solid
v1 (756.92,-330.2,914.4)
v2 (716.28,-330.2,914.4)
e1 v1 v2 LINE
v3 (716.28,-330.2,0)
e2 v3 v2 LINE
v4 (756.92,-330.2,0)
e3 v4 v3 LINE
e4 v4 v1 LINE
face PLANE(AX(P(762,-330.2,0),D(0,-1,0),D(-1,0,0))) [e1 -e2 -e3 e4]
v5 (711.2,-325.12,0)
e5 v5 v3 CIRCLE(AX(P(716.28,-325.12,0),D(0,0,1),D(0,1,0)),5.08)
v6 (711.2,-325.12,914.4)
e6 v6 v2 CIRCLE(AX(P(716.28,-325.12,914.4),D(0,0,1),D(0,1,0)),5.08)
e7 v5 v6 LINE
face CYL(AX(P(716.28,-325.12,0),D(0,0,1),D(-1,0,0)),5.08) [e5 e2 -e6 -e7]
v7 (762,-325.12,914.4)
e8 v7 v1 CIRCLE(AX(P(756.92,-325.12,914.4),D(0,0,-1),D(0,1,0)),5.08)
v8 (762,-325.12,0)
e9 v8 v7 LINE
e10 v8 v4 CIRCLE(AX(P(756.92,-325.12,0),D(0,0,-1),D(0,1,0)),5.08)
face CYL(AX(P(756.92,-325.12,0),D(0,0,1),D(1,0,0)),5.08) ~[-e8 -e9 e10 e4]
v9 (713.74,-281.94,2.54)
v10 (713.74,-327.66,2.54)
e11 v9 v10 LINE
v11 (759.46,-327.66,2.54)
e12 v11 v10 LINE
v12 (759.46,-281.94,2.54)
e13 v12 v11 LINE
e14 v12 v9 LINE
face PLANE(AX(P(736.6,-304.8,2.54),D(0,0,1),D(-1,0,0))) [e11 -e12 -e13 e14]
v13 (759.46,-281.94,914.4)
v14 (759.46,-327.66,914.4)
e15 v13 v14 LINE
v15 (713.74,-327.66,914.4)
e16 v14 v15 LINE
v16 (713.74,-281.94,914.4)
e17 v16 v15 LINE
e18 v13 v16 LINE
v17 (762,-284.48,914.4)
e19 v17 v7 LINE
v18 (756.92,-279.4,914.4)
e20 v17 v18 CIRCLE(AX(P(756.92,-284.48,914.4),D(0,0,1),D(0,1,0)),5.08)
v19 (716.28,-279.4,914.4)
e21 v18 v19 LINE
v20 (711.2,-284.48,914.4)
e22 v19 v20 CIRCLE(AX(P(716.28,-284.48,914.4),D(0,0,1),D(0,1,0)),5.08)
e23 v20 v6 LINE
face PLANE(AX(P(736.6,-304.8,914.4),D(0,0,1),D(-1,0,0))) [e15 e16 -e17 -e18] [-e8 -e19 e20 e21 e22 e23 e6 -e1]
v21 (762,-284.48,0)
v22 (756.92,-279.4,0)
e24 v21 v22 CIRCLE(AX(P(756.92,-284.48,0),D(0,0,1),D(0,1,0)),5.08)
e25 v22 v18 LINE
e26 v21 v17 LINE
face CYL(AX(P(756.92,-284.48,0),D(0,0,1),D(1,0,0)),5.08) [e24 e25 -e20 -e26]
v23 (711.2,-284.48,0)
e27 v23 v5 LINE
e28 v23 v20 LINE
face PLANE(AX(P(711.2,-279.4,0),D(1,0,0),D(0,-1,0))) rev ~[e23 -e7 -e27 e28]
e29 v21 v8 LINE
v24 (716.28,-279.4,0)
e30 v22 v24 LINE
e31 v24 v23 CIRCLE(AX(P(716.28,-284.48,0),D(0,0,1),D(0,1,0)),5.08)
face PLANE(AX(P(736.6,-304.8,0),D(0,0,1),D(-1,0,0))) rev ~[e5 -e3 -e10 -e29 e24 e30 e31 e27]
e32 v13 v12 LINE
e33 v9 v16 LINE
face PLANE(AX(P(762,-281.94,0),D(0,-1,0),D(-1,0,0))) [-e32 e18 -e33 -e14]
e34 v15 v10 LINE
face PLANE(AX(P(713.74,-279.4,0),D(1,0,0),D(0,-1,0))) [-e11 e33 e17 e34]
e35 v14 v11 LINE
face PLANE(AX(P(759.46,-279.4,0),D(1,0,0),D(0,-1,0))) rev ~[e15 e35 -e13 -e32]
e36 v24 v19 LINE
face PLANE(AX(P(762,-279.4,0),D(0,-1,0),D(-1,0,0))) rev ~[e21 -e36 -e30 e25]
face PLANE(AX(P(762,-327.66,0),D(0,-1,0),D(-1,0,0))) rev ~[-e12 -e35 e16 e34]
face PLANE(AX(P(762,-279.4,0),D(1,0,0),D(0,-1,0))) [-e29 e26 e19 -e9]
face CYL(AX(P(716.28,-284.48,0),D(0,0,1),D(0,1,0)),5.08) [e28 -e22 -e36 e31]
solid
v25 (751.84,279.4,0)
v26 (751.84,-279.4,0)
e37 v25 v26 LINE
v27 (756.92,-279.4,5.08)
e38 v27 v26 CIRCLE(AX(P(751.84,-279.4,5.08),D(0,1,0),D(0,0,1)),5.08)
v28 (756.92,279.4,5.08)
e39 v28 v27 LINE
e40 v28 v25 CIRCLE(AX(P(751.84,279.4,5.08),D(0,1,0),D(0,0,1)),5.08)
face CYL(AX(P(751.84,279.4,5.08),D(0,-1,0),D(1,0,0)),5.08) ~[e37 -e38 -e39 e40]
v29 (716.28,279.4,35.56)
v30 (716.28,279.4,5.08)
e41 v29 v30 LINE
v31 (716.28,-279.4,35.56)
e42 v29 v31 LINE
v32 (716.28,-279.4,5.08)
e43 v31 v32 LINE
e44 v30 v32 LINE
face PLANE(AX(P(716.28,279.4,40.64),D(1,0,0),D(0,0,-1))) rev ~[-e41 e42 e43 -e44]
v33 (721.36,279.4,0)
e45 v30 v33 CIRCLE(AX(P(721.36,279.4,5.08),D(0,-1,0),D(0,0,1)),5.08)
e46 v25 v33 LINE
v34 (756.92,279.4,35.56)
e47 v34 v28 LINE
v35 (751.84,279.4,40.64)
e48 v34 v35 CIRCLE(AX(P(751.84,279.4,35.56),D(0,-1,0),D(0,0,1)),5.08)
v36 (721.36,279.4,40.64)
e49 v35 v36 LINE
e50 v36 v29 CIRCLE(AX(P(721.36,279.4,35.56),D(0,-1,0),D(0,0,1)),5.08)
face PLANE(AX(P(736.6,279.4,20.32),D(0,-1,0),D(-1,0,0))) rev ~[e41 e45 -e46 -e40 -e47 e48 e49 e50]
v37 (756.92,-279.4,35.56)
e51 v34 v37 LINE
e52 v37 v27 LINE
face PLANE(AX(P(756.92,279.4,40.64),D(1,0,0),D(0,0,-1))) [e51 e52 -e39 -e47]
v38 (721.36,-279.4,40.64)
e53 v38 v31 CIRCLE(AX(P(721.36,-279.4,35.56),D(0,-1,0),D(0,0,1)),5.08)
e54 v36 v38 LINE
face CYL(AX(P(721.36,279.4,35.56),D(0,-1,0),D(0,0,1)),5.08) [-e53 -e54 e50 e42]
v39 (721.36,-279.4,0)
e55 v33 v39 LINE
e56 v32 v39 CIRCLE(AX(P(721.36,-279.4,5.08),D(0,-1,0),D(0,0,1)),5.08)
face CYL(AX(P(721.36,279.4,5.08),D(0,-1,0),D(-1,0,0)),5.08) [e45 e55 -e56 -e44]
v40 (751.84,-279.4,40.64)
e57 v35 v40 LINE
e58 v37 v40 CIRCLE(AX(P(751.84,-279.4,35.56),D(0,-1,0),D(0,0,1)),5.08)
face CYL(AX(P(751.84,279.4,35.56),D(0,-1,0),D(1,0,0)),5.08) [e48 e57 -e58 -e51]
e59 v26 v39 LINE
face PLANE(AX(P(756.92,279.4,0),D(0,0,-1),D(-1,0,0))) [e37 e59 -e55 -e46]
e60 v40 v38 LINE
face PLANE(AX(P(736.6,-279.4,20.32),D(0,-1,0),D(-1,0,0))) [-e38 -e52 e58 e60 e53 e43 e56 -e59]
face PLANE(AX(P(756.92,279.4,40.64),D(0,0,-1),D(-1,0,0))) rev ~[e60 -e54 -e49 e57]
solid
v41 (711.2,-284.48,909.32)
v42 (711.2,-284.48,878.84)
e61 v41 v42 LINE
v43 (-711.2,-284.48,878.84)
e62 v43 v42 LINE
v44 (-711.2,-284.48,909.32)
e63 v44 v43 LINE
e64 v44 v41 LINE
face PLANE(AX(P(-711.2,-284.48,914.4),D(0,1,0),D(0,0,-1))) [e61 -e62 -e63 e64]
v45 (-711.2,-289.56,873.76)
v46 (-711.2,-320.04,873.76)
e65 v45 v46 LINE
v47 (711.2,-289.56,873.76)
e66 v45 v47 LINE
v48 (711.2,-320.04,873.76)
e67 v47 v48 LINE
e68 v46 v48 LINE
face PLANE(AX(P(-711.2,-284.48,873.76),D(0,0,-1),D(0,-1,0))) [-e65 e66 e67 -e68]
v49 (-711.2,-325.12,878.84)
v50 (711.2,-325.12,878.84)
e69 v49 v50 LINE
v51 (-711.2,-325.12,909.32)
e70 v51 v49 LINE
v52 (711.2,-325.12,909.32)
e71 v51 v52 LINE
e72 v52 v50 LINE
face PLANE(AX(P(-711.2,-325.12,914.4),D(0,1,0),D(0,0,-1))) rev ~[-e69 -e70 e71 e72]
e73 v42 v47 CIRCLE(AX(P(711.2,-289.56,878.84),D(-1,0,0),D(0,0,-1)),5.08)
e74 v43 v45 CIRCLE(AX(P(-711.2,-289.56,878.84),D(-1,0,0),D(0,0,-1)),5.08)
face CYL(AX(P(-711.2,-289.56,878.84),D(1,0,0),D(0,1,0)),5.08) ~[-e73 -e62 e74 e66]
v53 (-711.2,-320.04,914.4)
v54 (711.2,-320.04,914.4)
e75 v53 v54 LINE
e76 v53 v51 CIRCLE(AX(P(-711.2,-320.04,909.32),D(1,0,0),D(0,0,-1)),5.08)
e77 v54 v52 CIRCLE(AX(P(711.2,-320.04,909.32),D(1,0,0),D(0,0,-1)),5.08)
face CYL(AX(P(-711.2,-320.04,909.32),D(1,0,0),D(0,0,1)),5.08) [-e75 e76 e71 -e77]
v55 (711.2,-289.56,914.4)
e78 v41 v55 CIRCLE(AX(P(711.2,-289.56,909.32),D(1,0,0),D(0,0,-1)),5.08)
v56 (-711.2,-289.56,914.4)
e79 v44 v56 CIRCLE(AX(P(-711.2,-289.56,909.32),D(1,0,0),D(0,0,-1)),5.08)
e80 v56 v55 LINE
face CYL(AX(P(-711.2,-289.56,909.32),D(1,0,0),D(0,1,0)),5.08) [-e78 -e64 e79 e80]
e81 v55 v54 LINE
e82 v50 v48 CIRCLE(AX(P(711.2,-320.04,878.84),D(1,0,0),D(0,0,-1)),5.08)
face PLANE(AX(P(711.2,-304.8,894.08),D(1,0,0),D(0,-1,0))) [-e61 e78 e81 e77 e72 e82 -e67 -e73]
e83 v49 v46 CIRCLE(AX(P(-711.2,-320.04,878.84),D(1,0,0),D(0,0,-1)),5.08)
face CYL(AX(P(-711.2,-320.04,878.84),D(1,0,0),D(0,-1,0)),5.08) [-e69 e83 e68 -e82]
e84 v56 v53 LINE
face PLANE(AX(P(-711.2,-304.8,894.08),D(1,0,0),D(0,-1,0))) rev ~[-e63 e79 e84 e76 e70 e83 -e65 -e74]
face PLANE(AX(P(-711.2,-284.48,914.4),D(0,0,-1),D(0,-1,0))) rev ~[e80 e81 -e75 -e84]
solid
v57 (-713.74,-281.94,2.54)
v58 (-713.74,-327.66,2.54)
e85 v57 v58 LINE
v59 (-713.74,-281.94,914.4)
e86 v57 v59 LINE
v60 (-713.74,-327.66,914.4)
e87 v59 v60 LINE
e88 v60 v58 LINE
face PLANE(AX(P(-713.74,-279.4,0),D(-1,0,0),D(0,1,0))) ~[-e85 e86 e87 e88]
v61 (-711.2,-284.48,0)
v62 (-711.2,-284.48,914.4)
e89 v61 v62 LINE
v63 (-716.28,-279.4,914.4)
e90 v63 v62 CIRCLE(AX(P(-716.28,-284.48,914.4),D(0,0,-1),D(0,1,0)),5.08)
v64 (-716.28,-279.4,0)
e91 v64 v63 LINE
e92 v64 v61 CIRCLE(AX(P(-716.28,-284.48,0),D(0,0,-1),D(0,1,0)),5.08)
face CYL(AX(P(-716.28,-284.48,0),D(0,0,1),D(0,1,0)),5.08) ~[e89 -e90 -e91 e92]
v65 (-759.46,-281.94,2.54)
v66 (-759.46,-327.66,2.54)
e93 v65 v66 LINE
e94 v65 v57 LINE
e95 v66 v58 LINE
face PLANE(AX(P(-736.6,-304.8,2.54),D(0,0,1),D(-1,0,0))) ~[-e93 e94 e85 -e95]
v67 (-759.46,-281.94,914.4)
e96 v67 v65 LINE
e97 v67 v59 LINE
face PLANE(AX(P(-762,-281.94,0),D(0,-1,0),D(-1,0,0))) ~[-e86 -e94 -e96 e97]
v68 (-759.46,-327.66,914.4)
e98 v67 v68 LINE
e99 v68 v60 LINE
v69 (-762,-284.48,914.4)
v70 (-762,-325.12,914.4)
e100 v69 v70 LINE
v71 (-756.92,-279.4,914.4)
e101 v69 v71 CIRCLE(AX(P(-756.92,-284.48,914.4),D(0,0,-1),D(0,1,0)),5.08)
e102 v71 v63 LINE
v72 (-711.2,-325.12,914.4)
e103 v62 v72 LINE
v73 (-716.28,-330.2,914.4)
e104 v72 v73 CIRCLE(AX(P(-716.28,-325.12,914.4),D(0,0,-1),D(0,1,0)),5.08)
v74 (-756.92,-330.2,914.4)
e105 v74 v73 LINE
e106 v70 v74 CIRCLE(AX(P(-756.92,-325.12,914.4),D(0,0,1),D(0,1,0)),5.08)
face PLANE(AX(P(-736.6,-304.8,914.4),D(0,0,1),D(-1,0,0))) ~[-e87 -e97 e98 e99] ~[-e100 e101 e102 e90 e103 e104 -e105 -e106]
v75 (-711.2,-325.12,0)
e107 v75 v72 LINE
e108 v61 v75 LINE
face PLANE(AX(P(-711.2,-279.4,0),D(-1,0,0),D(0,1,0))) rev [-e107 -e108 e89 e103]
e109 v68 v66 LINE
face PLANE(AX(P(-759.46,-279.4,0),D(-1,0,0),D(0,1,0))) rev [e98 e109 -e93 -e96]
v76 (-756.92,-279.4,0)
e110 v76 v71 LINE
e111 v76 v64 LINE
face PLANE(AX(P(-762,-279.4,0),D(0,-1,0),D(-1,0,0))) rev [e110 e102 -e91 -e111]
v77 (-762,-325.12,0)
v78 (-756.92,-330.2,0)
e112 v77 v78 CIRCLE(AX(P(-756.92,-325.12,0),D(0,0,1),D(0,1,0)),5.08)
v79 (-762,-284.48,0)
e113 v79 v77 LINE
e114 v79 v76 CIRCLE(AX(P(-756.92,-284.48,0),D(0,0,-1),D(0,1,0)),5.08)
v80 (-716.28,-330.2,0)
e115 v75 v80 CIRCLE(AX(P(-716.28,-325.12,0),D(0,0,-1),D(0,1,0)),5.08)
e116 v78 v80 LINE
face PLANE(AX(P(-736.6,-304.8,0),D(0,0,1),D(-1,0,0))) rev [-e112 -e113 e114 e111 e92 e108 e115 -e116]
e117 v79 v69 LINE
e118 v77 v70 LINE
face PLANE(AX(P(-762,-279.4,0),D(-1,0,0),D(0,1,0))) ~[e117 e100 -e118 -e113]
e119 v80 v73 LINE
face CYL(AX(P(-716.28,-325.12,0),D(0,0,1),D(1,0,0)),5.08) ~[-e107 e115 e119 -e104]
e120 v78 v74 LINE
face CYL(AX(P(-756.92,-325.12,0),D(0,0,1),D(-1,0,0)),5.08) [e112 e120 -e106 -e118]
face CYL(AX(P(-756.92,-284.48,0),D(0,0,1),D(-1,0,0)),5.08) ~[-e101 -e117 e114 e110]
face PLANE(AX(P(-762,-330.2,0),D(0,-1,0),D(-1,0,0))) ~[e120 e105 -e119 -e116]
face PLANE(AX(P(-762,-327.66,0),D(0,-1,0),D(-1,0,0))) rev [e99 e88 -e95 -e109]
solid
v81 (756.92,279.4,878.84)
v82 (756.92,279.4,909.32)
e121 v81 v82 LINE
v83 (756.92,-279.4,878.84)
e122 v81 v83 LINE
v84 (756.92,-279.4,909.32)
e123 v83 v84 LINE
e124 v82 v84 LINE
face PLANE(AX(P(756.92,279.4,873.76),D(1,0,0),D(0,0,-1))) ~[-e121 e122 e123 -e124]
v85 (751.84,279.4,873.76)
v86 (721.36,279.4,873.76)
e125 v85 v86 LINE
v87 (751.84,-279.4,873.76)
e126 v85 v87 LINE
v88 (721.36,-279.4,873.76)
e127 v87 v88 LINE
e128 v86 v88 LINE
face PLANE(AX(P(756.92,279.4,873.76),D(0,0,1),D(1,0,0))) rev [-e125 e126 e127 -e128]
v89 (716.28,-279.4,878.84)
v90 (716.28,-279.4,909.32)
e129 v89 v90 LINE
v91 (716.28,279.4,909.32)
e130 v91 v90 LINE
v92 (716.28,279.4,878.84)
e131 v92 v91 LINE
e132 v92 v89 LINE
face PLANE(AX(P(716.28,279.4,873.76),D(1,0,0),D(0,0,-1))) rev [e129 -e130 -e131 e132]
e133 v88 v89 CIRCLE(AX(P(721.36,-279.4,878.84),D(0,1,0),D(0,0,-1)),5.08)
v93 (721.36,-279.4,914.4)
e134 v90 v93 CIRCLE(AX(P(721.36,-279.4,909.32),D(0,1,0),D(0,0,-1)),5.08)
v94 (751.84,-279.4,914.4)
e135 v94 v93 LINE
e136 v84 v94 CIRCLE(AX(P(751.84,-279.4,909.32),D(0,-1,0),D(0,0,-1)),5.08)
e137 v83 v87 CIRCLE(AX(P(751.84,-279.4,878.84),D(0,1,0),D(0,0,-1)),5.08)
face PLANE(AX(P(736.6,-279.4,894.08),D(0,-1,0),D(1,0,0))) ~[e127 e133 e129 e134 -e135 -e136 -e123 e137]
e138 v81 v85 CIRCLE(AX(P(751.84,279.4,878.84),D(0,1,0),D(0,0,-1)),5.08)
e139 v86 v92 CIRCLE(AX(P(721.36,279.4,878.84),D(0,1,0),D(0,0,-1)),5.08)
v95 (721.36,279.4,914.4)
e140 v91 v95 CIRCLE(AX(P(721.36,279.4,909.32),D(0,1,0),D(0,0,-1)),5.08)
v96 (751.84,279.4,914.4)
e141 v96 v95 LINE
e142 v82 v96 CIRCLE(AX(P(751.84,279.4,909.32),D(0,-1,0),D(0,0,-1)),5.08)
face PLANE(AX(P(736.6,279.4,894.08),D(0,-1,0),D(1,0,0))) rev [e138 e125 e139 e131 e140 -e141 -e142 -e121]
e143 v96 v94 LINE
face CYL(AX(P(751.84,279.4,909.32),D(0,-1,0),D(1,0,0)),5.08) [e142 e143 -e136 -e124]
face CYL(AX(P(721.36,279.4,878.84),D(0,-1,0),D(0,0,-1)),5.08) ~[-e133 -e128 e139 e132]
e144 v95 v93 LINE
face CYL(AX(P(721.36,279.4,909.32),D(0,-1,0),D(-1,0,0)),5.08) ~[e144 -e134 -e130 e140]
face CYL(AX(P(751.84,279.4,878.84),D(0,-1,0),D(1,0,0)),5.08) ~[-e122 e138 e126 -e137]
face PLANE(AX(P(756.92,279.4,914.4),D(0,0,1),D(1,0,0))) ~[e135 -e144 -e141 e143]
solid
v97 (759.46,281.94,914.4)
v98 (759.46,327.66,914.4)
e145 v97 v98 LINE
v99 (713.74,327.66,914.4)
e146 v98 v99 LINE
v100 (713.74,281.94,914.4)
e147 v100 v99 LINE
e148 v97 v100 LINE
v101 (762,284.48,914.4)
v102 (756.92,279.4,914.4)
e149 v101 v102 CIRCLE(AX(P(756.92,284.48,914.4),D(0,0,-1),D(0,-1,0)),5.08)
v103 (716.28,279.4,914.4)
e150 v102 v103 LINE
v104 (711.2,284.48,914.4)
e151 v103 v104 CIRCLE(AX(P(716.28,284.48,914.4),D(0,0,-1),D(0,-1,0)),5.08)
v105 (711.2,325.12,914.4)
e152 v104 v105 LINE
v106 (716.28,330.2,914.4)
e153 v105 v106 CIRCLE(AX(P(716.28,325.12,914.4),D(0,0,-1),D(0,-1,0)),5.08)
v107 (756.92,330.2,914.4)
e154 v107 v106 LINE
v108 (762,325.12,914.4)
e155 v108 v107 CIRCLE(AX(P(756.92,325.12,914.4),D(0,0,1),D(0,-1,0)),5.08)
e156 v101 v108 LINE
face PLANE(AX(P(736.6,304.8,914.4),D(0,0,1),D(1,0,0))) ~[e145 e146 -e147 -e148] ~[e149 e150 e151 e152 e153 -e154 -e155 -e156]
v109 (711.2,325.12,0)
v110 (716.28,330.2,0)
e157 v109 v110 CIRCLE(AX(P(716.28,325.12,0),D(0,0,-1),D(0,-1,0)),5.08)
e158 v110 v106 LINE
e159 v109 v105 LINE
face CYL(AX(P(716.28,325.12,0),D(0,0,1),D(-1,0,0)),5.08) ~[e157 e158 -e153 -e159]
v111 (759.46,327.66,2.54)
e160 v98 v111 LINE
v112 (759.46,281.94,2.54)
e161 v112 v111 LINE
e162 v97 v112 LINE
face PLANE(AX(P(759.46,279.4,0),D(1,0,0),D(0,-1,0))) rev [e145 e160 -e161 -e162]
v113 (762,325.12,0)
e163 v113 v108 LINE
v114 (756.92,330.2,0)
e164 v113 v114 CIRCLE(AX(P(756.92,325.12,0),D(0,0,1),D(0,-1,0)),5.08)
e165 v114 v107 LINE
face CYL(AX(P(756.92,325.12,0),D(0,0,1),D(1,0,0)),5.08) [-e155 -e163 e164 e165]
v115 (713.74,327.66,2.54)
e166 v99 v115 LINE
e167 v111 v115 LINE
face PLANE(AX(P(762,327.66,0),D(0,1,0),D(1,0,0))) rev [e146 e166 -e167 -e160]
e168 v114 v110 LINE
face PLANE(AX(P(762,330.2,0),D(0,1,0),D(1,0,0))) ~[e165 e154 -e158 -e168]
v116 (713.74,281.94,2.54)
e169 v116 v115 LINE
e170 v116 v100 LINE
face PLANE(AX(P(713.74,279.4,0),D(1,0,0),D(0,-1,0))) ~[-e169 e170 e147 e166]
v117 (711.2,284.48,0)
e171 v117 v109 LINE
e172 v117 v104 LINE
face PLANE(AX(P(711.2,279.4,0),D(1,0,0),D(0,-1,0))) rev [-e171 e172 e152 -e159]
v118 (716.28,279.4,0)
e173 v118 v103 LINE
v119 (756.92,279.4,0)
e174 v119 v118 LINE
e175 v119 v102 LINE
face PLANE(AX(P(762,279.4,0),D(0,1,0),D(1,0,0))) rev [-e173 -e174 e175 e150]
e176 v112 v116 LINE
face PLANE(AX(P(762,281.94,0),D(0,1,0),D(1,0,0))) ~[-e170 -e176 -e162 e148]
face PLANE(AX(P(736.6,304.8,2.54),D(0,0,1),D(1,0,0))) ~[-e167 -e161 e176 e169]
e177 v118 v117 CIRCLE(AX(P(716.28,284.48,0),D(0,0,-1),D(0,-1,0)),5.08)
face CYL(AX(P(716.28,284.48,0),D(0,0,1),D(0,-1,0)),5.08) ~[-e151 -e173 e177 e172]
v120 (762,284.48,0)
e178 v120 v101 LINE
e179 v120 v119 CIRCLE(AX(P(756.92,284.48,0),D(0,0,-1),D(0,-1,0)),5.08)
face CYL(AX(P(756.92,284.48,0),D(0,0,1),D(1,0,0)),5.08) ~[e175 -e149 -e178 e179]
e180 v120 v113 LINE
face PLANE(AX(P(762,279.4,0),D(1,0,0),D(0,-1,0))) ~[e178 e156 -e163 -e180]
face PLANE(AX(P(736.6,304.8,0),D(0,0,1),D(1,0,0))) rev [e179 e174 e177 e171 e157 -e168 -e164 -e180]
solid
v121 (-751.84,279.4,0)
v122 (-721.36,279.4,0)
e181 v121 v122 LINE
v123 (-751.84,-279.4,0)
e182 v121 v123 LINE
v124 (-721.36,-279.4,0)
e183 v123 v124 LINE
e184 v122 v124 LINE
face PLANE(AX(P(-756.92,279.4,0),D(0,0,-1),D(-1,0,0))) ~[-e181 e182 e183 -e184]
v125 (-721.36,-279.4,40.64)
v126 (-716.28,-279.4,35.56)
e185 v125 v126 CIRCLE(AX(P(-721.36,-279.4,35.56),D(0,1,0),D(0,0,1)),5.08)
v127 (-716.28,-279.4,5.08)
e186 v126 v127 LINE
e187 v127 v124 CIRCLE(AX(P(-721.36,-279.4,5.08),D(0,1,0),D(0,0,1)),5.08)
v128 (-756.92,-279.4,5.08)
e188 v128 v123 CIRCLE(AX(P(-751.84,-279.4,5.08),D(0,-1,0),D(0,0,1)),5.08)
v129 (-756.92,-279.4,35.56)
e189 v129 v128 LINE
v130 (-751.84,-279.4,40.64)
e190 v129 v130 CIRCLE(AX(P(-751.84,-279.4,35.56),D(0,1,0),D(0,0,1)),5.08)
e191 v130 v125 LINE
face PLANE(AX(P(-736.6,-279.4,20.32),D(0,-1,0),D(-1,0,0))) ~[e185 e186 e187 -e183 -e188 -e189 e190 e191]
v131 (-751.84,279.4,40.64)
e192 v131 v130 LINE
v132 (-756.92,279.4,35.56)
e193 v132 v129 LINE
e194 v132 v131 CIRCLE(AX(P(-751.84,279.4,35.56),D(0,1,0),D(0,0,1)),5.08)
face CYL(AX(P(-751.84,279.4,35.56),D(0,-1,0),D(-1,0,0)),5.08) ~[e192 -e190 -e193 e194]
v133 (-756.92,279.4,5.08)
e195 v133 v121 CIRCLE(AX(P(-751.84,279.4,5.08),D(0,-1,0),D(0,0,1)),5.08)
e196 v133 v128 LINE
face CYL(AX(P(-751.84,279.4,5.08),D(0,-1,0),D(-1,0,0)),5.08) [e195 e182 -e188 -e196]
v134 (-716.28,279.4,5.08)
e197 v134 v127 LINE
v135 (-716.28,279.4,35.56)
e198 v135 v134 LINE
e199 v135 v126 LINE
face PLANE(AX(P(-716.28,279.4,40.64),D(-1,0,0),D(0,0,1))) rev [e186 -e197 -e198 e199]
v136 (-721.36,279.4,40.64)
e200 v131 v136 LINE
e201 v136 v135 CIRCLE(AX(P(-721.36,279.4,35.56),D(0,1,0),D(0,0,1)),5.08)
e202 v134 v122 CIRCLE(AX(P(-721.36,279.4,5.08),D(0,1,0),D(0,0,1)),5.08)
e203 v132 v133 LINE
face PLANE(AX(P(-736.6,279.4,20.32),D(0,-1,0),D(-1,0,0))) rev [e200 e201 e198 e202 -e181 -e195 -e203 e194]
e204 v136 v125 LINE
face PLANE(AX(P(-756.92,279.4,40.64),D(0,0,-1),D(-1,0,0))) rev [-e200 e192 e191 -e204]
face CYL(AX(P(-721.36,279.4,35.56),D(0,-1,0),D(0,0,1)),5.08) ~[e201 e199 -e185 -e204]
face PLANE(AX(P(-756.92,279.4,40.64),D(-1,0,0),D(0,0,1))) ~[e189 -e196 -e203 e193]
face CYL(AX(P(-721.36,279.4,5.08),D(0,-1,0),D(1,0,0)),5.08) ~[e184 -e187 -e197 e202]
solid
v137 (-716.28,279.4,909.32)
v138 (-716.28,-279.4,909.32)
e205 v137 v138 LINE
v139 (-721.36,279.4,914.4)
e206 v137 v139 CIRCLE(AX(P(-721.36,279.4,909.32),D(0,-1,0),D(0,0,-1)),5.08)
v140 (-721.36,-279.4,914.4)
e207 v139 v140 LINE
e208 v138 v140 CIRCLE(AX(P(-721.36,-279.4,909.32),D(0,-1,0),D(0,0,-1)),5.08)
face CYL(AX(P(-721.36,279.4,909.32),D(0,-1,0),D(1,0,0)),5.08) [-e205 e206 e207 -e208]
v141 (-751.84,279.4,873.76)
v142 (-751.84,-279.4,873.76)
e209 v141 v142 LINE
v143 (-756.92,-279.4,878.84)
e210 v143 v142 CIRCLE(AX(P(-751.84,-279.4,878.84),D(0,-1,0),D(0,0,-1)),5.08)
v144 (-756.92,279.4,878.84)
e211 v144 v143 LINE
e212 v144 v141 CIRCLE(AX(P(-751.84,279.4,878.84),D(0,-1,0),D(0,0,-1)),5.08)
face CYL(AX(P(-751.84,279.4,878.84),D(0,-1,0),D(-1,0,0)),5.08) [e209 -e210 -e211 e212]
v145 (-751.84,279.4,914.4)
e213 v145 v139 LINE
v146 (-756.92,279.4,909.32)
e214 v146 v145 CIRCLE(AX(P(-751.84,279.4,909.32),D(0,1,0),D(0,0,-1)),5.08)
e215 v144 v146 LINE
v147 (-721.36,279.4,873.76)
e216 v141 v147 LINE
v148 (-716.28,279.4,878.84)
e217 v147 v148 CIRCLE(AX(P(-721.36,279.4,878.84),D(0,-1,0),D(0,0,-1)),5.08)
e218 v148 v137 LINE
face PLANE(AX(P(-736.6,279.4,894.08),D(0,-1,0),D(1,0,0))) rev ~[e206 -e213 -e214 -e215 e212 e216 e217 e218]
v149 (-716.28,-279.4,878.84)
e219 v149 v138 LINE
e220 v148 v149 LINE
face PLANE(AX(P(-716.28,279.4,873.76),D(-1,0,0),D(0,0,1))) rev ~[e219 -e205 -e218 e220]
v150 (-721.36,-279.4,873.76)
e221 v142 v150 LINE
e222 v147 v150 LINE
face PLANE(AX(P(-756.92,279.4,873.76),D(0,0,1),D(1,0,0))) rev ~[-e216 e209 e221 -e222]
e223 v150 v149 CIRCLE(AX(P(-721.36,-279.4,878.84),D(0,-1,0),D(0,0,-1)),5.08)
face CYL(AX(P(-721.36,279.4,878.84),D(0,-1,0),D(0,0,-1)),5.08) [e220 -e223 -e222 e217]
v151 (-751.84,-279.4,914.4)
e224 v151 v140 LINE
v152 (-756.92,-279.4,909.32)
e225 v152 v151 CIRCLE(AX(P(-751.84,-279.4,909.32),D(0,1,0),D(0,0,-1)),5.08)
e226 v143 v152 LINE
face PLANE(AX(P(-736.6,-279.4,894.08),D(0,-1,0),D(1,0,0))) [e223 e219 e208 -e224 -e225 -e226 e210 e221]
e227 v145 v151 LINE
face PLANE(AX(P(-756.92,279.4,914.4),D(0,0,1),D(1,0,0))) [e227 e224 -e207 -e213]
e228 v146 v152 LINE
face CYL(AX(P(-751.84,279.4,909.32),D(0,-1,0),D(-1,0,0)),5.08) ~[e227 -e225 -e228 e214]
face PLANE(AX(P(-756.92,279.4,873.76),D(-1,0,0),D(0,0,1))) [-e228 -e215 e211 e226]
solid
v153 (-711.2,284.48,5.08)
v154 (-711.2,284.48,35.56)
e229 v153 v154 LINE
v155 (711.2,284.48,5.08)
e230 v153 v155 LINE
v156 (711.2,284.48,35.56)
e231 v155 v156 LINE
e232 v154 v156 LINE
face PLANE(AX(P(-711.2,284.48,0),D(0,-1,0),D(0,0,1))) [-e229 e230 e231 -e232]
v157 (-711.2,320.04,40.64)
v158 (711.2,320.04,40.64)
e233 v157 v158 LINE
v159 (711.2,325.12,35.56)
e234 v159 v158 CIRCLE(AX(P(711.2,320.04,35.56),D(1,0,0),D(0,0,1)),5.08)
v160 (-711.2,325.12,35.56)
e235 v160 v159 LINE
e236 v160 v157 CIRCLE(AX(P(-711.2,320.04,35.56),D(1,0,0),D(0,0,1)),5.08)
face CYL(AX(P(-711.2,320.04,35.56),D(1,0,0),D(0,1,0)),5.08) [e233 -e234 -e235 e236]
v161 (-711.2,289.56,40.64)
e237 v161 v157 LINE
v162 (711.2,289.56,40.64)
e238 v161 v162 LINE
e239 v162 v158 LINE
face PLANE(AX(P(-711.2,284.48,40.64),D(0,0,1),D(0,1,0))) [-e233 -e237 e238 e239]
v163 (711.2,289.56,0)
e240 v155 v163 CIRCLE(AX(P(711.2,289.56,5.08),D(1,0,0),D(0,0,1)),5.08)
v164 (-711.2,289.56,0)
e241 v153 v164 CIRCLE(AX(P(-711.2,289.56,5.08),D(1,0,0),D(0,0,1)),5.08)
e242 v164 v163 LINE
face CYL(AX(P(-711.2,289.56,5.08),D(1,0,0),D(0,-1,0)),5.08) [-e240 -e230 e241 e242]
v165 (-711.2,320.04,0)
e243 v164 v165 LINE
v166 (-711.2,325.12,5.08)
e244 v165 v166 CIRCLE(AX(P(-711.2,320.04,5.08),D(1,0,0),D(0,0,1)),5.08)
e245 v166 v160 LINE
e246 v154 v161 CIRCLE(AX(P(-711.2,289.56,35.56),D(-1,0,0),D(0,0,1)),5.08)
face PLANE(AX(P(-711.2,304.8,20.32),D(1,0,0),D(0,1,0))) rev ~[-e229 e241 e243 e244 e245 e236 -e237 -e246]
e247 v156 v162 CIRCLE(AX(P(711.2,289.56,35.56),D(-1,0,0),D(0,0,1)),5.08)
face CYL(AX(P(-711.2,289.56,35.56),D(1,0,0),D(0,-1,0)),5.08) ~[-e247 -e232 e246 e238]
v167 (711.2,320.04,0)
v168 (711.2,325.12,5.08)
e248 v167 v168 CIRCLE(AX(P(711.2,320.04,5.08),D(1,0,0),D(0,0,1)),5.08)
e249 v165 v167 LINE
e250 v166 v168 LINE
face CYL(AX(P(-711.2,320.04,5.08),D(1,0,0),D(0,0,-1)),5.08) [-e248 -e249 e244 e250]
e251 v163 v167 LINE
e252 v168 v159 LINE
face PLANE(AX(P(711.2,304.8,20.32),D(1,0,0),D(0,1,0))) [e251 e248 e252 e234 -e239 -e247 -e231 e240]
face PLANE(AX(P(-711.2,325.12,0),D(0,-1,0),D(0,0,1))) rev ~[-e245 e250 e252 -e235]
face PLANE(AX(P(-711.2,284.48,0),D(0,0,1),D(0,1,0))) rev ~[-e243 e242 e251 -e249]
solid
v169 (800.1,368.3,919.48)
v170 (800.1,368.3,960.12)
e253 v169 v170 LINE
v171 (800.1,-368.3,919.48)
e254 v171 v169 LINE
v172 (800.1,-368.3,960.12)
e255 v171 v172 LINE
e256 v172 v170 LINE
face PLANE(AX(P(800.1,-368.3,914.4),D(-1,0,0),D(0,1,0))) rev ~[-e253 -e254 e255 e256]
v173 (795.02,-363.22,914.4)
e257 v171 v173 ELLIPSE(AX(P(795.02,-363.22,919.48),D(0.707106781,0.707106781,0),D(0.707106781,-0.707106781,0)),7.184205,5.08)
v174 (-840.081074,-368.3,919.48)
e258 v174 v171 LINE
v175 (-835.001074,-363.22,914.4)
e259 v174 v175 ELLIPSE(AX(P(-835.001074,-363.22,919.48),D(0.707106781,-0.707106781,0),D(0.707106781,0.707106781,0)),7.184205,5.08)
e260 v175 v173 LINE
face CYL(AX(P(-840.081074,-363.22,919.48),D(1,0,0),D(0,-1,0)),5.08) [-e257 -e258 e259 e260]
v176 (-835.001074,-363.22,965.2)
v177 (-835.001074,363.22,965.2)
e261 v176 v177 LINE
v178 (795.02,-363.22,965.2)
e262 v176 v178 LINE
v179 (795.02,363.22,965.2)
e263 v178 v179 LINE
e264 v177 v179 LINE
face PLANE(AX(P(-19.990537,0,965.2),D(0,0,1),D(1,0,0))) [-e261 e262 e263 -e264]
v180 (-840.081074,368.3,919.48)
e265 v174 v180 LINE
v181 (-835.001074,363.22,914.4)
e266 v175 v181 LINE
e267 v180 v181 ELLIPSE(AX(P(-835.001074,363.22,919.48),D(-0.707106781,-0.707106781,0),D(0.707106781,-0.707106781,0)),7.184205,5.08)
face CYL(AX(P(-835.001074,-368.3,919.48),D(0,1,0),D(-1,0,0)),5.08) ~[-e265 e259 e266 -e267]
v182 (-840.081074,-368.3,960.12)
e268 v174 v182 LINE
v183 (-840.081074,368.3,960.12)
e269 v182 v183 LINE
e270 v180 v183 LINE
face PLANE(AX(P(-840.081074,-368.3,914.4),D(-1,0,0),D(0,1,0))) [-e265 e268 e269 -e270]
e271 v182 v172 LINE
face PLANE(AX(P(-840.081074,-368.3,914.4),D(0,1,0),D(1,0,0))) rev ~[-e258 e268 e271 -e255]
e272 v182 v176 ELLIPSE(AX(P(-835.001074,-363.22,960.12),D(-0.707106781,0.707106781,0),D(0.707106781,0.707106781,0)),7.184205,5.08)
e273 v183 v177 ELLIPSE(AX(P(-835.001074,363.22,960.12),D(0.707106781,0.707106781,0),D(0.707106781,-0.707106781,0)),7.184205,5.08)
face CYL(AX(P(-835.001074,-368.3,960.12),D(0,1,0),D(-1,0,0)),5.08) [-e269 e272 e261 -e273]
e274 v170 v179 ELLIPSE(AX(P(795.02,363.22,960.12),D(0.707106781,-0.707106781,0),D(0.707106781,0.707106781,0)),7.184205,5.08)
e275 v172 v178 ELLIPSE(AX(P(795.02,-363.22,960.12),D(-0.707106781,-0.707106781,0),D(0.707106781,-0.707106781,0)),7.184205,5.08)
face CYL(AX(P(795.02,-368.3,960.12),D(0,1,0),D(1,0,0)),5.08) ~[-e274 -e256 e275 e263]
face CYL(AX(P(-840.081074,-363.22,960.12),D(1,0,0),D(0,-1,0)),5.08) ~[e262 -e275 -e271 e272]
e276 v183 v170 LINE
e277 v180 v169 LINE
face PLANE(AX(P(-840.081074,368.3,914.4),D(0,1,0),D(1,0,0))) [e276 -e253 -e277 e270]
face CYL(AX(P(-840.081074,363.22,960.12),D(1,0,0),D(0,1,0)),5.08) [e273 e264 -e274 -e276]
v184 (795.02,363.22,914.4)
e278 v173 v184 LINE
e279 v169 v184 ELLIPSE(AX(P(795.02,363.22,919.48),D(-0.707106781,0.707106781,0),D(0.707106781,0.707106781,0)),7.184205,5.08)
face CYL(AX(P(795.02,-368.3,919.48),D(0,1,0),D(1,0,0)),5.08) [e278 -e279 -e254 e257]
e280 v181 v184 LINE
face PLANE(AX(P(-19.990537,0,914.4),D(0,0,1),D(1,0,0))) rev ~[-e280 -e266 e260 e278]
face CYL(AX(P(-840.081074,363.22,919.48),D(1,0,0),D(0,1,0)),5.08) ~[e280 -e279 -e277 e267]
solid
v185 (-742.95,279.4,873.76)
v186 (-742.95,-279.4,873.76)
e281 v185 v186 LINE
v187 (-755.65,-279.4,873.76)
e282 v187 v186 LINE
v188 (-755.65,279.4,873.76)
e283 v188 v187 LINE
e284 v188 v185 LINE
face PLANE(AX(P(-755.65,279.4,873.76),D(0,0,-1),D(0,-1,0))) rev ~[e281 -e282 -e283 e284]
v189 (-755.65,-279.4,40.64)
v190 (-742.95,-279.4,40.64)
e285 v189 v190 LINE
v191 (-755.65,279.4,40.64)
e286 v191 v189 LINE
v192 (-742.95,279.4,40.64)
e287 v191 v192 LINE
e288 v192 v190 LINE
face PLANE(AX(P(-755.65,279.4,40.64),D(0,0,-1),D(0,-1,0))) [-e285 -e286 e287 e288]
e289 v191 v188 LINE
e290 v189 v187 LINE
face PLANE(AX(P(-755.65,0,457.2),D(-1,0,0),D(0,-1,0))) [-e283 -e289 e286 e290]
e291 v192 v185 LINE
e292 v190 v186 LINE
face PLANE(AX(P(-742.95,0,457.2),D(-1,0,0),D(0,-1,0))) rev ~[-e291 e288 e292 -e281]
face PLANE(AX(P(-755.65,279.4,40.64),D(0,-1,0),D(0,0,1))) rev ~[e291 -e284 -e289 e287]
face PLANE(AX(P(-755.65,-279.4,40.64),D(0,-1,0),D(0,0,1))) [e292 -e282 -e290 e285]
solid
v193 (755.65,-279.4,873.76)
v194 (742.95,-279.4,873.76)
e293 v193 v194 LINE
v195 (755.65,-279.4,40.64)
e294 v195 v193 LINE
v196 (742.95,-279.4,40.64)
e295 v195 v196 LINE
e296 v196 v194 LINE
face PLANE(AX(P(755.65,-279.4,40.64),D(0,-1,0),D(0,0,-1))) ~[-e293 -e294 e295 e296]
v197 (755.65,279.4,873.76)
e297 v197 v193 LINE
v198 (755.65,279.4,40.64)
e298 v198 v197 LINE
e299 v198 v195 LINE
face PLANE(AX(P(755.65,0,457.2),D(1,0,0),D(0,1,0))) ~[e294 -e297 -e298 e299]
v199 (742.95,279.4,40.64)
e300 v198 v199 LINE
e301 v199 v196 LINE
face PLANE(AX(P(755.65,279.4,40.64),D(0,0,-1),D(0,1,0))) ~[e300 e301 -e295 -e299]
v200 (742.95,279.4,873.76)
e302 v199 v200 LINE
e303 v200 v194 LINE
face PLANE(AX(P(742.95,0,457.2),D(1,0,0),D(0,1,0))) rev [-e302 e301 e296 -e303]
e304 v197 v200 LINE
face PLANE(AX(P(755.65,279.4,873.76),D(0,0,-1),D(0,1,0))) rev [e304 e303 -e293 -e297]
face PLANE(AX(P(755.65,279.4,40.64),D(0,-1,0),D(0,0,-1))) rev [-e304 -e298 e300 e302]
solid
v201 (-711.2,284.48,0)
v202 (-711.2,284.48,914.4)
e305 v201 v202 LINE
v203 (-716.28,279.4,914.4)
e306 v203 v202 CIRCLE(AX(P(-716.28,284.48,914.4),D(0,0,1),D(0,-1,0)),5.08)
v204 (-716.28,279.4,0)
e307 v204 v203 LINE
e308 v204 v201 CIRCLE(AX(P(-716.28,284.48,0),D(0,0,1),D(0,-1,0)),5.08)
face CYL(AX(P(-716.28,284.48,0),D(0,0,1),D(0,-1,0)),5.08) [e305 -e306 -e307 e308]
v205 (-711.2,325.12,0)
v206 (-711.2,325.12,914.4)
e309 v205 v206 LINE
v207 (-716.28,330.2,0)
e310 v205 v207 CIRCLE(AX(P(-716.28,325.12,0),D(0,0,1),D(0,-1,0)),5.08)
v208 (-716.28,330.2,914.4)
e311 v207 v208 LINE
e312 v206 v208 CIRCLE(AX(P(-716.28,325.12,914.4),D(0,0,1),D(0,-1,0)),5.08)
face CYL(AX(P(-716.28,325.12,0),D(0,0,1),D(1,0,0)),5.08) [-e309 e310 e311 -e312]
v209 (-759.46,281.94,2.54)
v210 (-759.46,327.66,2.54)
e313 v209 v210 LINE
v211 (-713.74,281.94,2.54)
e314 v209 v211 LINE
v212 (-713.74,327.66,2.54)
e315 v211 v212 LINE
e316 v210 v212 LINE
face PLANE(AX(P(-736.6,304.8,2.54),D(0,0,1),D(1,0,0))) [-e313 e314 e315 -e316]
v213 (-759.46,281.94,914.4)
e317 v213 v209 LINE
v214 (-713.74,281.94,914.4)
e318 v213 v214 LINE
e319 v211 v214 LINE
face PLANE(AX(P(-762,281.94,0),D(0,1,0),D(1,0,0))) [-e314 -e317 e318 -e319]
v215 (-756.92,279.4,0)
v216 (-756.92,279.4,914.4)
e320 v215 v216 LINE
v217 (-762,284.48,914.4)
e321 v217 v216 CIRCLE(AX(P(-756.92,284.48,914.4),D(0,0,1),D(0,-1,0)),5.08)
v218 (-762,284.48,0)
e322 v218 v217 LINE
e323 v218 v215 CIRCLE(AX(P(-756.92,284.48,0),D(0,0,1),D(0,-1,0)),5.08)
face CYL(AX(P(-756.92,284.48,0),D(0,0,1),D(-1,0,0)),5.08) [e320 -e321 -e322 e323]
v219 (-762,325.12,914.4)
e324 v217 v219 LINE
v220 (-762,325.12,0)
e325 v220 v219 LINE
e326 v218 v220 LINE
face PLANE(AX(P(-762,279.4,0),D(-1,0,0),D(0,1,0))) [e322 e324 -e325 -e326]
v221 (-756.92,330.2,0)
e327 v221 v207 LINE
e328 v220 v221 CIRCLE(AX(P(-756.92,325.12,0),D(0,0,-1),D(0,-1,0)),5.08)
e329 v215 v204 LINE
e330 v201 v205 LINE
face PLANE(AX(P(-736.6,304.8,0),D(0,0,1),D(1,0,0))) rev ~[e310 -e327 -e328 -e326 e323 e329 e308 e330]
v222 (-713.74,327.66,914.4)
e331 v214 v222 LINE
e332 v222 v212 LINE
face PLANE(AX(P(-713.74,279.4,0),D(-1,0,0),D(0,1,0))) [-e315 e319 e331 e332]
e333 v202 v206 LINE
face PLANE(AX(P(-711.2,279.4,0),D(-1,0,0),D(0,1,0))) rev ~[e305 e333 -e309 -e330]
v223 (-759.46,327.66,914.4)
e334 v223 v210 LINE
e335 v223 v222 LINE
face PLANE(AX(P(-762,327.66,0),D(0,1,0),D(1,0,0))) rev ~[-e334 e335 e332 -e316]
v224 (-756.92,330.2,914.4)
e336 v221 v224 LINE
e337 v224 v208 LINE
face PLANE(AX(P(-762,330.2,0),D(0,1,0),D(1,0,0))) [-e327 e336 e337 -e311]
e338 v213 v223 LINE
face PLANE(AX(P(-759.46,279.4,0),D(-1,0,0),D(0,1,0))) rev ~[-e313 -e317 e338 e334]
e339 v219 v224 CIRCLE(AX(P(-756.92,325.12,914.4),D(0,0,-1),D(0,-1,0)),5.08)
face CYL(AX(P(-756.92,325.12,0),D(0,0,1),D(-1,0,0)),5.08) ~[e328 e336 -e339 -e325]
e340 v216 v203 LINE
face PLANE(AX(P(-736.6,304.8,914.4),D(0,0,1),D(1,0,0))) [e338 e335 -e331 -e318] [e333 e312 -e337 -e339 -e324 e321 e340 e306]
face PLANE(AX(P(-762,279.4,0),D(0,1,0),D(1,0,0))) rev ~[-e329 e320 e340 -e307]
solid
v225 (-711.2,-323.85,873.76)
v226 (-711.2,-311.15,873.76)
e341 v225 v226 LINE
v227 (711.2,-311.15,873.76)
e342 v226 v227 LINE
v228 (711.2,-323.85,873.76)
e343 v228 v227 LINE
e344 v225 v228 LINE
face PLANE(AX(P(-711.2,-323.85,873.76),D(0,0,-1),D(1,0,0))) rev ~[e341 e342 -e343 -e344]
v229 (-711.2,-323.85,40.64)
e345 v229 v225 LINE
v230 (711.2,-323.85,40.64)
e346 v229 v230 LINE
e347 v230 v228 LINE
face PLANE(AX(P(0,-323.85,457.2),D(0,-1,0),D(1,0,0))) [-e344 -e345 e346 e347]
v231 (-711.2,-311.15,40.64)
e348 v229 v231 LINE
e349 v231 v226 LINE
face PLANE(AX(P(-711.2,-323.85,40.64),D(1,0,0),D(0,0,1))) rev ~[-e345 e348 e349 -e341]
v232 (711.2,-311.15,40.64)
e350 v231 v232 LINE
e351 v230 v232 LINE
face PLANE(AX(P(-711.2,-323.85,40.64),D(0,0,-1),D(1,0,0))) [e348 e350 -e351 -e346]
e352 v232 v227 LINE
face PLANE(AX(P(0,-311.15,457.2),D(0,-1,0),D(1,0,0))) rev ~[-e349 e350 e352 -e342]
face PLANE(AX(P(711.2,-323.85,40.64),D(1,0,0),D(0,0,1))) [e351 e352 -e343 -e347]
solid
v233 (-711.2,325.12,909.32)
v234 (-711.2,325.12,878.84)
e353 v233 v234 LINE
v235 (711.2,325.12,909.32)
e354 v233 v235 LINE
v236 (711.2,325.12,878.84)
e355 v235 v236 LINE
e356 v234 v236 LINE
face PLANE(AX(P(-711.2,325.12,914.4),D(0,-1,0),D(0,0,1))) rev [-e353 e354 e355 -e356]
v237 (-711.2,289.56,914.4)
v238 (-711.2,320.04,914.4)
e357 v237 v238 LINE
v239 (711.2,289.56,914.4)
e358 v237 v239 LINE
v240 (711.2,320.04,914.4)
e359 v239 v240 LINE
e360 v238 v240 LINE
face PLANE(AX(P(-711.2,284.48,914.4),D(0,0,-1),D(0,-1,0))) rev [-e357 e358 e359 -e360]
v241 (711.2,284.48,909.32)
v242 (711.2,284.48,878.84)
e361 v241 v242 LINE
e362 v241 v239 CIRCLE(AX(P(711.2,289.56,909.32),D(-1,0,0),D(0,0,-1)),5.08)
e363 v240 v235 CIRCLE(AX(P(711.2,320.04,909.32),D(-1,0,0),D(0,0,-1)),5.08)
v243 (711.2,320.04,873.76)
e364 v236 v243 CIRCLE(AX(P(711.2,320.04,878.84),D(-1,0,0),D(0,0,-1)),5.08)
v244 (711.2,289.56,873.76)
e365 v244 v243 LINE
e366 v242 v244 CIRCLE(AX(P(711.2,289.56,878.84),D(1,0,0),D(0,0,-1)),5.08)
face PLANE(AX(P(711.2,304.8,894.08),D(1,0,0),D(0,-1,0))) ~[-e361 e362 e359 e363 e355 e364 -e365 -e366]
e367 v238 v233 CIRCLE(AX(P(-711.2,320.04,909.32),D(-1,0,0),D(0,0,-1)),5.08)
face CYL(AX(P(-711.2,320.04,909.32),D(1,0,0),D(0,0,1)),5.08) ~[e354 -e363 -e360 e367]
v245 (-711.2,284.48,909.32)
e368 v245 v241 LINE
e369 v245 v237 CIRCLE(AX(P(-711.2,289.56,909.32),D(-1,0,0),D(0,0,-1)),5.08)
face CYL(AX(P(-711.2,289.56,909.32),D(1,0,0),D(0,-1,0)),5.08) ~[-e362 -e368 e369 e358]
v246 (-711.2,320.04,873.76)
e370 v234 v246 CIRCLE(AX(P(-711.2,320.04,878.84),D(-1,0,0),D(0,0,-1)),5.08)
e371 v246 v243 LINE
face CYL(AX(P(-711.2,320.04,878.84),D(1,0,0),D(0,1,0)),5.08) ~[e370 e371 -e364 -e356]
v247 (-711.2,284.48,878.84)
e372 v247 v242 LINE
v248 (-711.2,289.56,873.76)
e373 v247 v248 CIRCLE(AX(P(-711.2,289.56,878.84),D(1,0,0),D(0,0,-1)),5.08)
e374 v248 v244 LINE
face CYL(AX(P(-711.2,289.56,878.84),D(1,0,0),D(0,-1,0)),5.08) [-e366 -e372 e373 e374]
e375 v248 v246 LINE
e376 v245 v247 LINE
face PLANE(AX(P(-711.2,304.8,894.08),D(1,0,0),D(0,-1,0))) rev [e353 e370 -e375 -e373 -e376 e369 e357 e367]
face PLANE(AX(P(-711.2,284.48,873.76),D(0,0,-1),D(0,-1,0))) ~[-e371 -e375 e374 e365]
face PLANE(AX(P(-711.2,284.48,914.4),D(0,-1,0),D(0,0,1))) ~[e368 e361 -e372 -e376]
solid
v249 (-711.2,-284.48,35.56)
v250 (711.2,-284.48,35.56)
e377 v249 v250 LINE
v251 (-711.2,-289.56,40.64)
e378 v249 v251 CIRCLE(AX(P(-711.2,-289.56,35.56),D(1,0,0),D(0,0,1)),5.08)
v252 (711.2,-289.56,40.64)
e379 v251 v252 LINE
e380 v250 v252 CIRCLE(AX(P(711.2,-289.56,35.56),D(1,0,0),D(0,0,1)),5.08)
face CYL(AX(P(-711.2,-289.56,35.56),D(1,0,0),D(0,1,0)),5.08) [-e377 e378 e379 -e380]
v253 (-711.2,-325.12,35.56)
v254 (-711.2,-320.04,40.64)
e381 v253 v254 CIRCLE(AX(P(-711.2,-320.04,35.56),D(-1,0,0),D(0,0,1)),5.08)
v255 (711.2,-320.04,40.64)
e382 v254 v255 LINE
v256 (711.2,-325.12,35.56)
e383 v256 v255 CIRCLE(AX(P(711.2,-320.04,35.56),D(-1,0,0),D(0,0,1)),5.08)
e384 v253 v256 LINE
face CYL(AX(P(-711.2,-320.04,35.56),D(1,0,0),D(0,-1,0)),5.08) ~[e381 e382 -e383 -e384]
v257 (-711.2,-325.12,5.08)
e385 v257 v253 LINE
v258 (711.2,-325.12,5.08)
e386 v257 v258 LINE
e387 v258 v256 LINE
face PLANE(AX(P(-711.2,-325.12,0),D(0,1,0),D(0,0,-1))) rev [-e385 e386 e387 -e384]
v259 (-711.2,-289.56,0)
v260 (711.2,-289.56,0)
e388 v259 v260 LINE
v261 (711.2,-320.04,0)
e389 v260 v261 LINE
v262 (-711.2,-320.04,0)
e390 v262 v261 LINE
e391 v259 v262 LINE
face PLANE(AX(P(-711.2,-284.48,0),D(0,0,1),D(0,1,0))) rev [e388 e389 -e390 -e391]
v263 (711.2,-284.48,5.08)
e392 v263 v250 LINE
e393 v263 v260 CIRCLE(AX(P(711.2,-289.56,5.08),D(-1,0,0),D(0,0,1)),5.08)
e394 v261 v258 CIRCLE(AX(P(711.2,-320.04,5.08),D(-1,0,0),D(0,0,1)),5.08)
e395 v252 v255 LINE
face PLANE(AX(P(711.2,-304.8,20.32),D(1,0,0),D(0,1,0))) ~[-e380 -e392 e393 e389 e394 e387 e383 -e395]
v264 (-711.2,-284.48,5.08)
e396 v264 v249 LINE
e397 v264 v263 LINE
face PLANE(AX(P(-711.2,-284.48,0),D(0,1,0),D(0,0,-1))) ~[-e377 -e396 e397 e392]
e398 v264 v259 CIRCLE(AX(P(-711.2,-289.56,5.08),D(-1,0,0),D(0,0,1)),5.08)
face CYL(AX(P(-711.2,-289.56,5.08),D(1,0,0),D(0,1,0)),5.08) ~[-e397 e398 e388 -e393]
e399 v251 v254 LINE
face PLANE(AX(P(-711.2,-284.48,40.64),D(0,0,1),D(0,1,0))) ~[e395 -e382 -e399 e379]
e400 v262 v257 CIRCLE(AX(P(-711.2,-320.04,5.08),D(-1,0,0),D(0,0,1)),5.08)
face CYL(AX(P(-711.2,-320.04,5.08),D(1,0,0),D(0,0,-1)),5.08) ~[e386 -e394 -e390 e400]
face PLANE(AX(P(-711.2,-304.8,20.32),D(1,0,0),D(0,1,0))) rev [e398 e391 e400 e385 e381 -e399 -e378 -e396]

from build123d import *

# Parameters (mm, degrees)
F0_W      = 50.8
F0_H      = 50.8
F1_DEPTH  = 914.4
F2_T      = -2.54
F3_R      = 5.08
F6_W      = 40.64
F6_H      = 40.64
F7_DEPTH  = 1422.4
F8_R      = 5.08
F12_W     = 40.64
F12_H     = 40.64
F13_DEPTH = 558.8
F14_R     = 5.08
F18_W     = 558.8
F18_H     = 833.12
F19_DEPTH = 12.7
F22_W     = 1422.4
F22_H     = 833.12
F23_DEPTH = 12.7
F24_W     = 1640.1810742983
F24_H     = 736.6
F25_DEPTH = 50.8
F26_R     = 5.08


with BuildPart() as f1:
    # F0 (on Top) → F1 (new body)
    with BuildSketch(Plane.XY):
        with Locations((-736.6, 304.8)):
            Rectangle(F0_W, F0_H)
    extrude(amount=F1_DEPTH)

    # F2
    f2_openings = [f1.faces().sort_by_distance(p)[0] for p in [
        (-736.6, 304.8, 914.4),
    ]]
    offset(amount=F2_T, openings=f2_openings)

    # F3
    f3_edges = [f1.edges().sort_by_distance(p)[0] for p in [
        (-762, 279.4, 457.2),
        (-762, 330.2, 457.2),
        (-711.2, 279.4, 457.2),
        (-711.2, 330.2, 457.2),
    ]]
    fillet(f3_edges, radius=F3_R)


with BuildPart() as f4_1:
    # F4: instance of F1
    add(f1.part.mirror(Plane.XZ))


with BuildPart() as f5_1:
    # F5: instance of F1
    add(f1.part.mirror(Plane.YZ))


with BuildPart() as f5_2:
    # F5: instance of F4_1
    add(f4_1.part.mirror(Plane.YZ))


with BuildPart() as f7:
    # F6 (on face) → F7 (new body, through all)
    with BuildSketch(Plane.YZ.offset(-711.2)):
        with Locations((304.8, 20.32)):
            Rectangle(F6_W, F6_H)
    extrude(amount=F7_DEPTH)

    # F8
    f8_edges = [f7.edges().sort_by_distance(p)[0] for p in [
        (0, 325.12, 40.64),
        (0, 284.48, 40.64),
        (0, 325.12, 0),
        (0, 284.48, 0),
    ]]
    fillet(f8_edges, radius=F8_R)


with BuildPart() as f10_1:
    # F10: instance of F7
    add(f7.part.mirror(Plane(origin=(736.6, 304.8, 457.2), x_dir=(1, 0, 0), z_dir=(0, 0, 1))))


with BuildPart() as f11_1:
    # F11: instance of F10_1
    add(f10_1.part.mirror(Plane.XZ))


with BuildPart() as f11_2:
    # F11: instance of F7
    add(f7.part.mirror(Plane.XZ))


with BuildPart() as f13:
    # F12 (on face) → F13 (new body, through all)
    with BuildSketch(Plane.XZ.offset(-279.4)):
        with Locations((-736.6, 894.08)):
            Rectangle(F12_W, F12_H)
    extrude(amount=F13_DEPTH)

    # F14
    f14_edges = [f13.edges().sort_by_distance(p)[0] for p in [
        (-756.92, 0, 914.4),
        (-756.92, 0, 873.76),
        (-716.28, 0, 914.4),
        (-716.28, 0, 873.76),
    ]]
    fillet(f14_edges, radius=F14_R)


with BuildPart() as f15_1:
    # F15: instance of F13
    add(f13.part.mirror(Plane(origin=(736.6, 304.8, 457.2), x_dir=(1, 0, 0), z_dir=(0, 0, 1))))


with BuildPart() as f16_1:
    # F16: instance of F13
    add(f13.part.mirror(Plane.YZ))


with BuildPart() as f16_2:
    # F16: instance of F15_1
    add(f15_1.part.mirror(Plane.YZ))


with BuildPart() as f19:
    # F18 (on offset) → F19 (new body)
    with BuildSketch(Plane(origin=(-755.65, 0, 0), x_dir=(0, -1, 0), z_dir=(-1, 0, 0))):
        with Locations((0, 457.2)):
            Rectangle(F18_W, F18_H)
    extrude(amount=-F19_DEPTH)


with BuildPart() as f20_1:
    # F20: instance of F19
    add(f19.part.mirror(Plane.YZ))


with BuildPart() as f23:
    # F22 (on offset) → F23 (new body)
    with BuildSketch(Plane.XZ.offset(323.85)):
        with Locations((0, 457.2)):
            Rectangle(F22_W, F22_H)
    extrude(amount=-F23_DEPTH)


with BuildPart() as f25:
    # F24 (on face) → F25 (new body)
    with BuildSketch(Plane.XY.offset(914.4)):
        with Locations((-19.9905371492, 0)):
            Rectangle(F24_W, F24_H)
    extrude(amount=F25_DEPTH)

    # F26
    f26_edges = [f25.edges().sort_by_distance(p)[0] for p in [
        (-19.990537, -368.3, 965.2),
        (800.1, 0, 965.2),
        (-19.990537, 368.3, 965.2),
        (-840.081074, 0, 965.2),
        (-19.990537, -368.3, 914.4),
        (800.1, 0, 914.4),
        (-19.990537, 368.3, 914.4),
        (-840.081074, 0, 914.4),
    ]]
    fillet(f26_edges, radius=F26_R)


solid = Compound([f1.part, f4_1.part, f5_1.part, f5_2.part, f7.part, f10_1.part, f11_1.part, f11_2.part, f13.part, f15_1.part, f16_1.part, f16_2.part, f19.part, f20_1.part, f23.part, f25.part])
